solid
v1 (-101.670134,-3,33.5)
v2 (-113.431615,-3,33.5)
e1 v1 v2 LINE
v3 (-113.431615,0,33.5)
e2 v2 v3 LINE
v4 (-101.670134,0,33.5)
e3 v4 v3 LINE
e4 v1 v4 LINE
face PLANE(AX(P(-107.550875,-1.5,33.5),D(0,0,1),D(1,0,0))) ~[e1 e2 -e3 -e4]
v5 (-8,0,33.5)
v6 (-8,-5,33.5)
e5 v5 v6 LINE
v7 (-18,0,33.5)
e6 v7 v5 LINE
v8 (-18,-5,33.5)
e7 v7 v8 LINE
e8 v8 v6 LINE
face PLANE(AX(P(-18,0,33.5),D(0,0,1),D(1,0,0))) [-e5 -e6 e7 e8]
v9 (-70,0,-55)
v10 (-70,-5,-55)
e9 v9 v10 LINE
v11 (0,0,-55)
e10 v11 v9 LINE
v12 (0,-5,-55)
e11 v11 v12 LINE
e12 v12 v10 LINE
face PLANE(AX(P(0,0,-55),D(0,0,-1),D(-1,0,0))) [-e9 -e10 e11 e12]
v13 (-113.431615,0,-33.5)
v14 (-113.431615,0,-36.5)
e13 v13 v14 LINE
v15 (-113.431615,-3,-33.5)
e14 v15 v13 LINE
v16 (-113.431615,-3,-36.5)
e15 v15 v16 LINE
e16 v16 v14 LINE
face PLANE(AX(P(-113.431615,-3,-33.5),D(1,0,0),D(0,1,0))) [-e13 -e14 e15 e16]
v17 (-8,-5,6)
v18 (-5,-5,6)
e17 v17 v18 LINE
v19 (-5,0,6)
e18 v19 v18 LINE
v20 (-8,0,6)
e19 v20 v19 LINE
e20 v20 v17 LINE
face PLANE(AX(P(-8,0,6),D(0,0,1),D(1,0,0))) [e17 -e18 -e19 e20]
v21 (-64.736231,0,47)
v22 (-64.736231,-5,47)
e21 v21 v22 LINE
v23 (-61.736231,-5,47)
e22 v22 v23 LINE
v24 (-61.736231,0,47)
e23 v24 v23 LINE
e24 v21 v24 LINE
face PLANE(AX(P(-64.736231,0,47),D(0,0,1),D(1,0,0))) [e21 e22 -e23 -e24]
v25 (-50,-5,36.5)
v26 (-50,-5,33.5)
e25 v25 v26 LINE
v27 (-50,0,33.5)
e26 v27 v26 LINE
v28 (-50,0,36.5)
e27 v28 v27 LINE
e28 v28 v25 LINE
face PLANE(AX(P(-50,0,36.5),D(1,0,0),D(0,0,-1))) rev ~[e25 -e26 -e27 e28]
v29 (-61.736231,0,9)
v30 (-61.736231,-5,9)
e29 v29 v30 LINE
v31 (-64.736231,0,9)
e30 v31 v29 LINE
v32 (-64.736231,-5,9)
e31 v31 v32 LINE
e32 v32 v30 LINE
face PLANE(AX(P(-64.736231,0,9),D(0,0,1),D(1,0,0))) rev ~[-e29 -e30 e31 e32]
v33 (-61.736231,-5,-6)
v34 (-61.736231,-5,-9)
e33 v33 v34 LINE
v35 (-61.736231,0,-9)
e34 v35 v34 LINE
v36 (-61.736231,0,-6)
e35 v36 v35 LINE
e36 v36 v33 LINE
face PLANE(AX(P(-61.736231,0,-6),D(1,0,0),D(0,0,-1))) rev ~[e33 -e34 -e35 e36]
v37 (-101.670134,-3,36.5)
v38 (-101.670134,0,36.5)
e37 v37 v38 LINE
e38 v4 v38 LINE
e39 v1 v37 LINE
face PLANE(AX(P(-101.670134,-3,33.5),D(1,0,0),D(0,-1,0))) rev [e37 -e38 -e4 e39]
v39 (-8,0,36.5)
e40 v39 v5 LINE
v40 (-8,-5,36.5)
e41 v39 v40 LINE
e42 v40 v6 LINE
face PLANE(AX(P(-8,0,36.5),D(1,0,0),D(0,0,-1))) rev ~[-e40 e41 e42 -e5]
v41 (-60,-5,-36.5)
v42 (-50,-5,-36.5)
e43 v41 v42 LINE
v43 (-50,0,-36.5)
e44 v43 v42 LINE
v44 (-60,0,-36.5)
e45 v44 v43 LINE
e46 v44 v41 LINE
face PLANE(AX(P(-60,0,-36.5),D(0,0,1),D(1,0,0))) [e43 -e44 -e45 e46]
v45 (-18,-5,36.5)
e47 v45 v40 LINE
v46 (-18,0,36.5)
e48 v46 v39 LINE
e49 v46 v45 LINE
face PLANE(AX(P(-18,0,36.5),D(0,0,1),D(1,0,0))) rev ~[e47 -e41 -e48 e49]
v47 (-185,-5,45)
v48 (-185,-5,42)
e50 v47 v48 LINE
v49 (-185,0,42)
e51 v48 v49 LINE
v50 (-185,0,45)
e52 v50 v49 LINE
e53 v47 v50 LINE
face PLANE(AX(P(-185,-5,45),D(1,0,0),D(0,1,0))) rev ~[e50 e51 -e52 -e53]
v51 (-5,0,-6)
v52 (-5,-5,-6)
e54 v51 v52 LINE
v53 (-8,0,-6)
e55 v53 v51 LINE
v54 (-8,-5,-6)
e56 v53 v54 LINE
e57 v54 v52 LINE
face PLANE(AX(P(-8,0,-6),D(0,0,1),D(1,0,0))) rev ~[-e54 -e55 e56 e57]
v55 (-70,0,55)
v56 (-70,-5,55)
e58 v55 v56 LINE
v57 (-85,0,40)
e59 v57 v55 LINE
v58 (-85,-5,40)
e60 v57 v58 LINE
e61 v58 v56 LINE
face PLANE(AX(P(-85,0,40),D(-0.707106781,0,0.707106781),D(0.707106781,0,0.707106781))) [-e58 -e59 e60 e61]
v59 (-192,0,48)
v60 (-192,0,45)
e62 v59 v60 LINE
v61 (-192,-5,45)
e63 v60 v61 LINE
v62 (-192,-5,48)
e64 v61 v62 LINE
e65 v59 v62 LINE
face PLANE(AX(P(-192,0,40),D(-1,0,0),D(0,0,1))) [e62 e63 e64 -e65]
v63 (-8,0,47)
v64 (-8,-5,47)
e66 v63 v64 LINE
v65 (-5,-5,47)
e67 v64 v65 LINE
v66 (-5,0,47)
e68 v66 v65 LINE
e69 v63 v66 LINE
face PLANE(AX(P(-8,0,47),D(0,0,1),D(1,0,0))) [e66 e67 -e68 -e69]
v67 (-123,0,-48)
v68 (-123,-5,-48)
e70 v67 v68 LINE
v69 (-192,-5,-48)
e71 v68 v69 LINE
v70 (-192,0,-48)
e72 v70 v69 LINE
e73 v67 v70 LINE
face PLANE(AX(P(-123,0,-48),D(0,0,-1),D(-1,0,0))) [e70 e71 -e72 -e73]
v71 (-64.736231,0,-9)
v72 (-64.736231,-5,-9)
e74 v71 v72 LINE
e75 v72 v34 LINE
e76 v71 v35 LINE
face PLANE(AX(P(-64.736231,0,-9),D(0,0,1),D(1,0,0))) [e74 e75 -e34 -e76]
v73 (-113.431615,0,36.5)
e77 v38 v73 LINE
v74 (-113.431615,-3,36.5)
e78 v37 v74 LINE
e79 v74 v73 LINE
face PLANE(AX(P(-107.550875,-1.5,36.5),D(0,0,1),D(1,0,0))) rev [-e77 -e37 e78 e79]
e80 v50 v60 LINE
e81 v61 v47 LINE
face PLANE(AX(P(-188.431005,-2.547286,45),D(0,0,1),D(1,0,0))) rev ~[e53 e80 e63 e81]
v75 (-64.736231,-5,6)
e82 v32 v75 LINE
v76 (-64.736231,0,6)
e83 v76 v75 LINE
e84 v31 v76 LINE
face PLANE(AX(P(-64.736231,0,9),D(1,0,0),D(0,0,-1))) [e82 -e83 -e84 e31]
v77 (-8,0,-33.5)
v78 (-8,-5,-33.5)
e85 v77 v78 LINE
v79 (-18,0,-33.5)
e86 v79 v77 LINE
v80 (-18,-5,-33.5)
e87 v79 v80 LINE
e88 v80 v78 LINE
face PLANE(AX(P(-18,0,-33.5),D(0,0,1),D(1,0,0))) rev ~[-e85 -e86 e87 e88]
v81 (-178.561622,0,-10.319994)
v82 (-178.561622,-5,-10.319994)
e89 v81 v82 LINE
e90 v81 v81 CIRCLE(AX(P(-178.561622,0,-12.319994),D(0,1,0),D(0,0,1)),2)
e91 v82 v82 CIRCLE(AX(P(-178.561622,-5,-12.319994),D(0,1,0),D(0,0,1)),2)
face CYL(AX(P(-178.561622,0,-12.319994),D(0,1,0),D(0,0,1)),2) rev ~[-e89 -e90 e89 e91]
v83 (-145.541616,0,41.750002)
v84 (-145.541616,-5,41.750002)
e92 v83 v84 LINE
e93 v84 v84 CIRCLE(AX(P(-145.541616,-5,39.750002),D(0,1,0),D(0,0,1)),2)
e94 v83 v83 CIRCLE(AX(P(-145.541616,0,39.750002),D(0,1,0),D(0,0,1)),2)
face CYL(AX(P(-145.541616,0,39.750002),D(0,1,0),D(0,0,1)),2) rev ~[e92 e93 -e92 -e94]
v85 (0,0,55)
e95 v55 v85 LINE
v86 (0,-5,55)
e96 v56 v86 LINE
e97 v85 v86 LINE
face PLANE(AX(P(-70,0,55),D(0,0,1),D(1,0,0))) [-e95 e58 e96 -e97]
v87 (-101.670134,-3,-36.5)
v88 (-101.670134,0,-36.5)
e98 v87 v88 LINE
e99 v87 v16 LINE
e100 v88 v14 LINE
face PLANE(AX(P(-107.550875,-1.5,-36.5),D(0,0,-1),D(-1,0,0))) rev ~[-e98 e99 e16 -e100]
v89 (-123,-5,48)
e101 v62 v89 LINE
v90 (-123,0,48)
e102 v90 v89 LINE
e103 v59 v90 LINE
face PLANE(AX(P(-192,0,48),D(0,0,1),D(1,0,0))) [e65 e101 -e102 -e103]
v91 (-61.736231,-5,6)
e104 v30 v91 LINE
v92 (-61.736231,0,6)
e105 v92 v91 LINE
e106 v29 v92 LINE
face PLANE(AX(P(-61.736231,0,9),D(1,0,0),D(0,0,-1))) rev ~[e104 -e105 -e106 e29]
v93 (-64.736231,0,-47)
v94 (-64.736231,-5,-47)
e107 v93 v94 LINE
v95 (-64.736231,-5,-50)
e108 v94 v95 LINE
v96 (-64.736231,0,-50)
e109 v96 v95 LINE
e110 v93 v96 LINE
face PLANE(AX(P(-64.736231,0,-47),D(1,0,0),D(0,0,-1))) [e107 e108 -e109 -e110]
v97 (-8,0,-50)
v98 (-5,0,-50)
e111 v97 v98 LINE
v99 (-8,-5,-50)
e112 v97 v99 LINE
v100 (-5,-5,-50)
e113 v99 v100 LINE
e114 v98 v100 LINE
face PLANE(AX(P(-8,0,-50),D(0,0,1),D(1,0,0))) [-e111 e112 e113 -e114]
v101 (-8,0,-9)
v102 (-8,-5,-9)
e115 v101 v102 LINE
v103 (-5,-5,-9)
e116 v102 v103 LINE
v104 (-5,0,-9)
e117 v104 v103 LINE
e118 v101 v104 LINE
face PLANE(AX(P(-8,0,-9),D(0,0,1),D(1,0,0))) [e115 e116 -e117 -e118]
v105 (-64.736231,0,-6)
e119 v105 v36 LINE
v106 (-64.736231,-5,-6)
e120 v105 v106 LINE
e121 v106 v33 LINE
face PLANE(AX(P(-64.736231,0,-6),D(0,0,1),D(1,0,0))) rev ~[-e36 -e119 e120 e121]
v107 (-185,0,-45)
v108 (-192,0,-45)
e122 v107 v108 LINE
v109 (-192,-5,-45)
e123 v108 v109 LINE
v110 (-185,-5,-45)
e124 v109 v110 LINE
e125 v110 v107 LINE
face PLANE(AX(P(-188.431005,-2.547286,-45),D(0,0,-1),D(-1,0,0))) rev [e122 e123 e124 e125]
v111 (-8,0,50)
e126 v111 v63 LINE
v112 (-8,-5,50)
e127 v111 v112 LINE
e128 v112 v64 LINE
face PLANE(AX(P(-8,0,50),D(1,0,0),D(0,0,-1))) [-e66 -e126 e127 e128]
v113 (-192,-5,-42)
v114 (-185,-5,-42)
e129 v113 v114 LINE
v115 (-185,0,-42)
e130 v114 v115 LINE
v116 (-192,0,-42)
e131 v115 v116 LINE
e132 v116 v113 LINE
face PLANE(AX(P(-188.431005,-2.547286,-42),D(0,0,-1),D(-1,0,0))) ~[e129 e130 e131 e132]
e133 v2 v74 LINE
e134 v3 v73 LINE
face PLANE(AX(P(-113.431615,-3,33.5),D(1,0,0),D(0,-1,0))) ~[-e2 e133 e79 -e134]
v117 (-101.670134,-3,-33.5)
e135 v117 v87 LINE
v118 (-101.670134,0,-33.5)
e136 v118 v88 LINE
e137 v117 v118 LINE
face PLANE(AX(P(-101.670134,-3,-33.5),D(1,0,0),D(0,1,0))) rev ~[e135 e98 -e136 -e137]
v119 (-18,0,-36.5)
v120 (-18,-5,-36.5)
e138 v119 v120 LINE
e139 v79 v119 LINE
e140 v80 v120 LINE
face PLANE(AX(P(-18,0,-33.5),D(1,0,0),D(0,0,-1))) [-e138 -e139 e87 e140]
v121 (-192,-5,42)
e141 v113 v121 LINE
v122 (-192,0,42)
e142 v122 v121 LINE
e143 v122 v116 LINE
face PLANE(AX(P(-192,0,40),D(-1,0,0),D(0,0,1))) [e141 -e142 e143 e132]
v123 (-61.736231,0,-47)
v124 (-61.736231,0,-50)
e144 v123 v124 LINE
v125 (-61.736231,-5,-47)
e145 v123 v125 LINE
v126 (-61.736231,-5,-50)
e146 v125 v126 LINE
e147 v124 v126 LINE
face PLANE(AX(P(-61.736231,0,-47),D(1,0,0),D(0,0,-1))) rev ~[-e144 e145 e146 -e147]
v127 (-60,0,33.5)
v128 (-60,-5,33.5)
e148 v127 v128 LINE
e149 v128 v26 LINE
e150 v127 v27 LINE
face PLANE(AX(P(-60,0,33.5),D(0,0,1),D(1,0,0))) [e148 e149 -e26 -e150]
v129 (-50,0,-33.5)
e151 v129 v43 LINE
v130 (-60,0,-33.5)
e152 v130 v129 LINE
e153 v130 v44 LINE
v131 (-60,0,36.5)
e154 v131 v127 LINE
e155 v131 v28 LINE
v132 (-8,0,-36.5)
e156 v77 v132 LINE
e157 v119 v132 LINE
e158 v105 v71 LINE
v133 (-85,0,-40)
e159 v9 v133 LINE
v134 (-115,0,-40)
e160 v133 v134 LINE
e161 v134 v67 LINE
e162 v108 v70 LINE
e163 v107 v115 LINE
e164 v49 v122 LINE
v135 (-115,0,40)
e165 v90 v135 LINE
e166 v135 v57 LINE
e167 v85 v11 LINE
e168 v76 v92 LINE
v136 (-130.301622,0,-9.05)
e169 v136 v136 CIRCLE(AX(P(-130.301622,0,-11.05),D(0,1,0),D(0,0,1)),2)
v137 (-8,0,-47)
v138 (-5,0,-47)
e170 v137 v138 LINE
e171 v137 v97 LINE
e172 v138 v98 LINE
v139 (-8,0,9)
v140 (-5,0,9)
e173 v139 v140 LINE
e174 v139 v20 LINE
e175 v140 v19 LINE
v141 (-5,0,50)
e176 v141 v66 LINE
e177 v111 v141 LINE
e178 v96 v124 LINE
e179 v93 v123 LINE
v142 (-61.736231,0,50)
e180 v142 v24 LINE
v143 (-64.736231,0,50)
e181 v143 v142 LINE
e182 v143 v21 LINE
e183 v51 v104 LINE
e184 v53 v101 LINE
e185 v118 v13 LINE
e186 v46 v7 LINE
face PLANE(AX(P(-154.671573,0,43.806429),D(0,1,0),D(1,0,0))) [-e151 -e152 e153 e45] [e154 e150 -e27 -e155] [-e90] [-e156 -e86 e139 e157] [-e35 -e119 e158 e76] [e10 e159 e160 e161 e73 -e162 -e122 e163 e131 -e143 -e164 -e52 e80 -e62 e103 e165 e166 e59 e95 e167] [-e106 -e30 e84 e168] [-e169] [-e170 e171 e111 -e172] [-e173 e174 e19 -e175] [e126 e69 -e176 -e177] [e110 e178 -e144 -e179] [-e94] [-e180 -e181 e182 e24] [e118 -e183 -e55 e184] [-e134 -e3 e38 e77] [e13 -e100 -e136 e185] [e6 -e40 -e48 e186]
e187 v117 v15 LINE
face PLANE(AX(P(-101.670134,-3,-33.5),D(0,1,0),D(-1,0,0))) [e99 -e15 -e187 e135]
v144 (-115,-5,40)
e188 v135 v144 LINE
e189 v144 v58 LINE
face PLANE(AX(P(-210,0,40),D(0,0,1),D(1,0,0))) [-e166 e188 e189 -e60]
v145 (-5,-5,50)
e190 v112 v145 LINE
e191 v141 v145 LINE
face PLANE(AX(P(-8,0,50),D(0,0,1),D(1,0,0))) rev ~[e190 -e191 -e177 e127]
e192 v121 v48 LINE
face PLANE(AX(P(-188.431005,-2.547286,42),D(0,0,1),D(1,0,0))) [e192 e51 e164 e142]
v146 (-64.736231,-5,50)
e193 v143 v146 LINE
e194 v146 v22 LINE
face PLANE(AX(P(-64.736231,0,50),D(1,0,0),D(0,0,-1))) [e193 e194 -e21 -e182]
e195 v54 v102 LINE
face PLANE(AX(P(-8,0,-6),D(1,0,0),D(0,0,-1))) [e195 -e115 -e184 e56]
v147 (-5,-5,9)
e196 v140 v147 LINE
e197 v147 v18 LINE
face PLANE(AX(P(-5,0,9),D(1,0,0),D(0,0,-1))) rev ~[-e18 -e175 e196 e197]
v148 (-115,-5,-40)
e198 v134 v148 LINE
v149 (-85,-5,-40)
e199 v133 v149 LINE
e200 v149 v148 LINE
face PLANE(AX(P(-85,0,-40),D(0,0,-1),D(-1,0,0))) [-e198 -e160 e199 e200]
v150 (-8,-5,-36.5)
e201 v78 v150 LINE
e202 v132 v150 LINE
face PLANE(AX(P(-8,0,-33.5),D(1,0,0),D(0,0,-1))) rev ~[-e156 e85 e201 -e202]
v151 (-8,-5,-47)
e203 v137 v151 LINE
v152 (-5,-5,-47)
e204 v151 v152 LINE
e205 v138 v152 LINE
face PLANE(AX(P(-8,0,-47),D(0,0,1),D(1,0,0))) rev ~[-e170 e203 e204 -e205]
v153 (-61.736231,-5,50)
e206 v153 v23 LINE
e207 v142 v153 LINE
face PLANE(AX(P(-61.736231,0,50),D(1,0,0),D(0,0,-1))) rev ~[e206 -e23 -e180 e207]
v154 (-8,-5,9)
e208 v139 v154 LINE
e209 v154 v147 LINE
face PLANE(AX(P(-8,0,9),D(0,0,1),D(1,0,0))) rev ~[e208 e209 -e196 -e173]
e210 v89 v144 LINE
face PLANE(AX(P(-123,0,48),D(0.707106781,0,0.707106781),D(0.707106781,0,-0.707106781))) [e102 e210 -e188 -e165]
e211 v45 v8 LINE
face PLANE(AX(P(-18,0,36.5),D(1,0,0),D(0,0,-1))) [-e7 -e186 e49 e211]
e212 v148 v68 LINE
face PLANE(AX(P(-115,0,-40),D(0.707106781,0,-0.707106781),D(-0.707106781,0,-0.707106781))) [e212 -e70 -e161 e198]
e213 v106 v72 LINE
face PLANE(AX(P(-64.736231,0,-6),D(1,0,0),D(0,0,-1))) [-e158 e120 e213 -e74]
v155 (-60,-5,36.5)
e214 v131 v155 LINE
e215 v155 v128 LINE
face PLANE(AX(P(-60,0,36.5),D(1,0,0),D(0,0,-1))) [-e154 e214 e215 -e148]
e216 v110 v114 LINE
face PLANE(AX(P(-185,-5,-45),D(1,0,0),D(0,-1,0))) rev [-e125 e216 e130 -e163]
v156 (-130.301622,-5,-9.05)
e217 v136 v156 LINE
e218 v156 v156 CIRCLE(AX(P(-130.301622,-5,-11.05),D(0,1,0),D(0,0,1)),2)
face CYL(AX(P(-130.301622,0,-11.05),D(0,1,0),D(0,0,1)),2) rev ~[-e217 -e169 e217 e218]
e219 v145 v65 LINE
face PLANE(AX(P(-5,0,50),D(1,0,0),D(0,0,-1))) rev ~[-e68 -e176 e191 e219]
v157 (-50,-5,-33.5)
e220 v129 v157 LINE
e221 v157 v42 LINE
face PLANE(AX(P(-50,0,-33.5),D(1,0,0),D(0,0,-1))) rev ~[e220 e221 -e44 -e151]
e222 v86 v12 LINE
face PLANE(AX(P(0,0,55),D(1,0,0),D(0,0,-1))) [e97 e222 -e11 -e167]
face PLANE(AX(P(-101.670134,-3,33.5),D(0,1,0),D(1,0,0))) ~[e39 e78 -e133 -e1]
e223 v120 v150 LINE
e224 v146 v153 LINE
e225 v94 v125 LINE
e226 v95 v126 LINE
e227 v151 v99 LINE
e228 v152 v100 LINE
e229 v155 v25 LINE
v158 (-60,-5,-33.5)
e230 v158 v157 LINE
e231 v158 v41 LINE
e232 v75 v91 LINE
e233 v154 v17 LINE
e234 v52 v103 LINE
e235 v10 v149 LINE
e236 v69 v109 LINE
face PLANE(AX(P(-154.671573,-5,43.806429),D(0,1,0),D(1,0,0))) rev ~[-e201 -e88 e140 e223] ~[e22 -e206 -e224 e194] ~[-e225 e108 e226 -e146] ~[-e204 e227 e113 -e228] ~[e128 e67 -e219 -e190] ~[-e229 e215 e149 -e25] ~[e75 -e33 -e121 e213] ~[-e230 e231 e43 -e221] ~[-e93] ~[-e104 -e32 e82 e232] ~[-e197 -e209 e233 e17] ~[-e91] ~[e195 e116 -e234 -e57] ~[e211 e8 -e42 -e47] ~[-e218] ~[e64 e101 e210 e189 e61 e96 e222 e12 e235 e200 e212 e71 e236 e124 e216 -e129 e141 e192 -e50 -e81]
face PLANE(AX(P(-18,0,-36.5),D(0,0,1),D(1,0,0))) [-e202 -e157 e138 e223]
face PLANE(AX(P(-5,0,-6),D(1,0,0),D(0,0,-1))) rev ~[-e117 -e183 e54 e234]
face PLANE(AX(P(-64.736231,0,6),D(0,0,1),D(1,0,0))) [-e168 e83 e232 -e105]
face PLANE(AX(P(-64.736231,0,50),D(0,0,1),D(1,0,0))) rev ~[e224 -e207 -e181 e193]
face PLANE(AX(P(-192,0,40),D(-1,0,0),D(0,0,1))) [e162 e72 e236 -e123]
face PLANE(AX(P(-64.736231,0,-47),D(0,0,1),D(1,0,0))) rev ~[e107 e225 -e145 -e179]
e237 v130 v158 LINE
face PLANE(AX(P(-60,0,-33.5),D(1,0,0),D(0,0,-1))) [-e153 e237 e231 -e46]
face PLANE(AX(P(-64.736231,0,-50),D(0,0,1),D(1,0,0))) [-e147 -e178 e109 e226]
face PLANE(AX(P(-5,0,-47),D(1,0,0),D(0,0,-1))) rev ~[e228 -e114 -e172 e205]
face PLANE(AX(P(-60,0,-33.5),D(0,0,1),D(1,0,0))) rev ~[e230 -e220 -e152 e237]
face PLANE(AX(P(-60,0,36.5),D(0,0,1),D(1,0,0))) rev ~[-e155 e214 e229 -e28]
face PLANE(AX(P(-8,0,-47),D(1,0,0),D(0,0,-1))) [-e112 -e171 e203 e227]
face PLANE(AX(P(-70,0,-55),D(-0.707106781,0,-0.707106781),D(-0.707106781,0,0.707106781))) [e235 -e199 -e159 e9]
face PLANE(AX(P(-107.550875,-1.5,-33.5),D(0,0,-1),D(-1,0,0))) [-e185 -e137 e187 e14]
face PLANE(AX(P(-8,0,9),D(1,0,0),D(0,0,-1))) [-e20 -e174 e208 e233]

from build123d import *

# Parameters (mm, degrees)
BOSS_EXTRUDE1_DEPTH  = 5
SKETCH10_W           = 3
SKETCH10_H           = 3
CUT_EXTRUDE3_DEPTH   = 10
SKETCH11_W           = 10
SKETCH11_H           = 3
CUT_EXTRUDE4_DEPTH   = 10
BOSS_EXTRUDE5_DEPTH  = 3
SKETCH13_R           = 2
BOSS_EXTRUDE6_DEPTH  = 3
SKETCH14_R           = 2
SKETCH14_W           = 7
SKETCH14_H           = 3
BOSS_EXTRUDE7_DEPTH  = 3
SKETCH15_W           = 11.761480784
SKETCH15_H           = 3
BOSS_EXTRUDE8_DEPTH  = 3
SKETCH15_3_W         = 11.761480784
SKETCH15_3_H         = 3
CUT_EXTRUDE6_DEPTH   = 3
CUT_EXTRUDE7_DEPTH   = 63
BOSS_EXTRUDE9_DEPTH  = 3
BOSS_EXTRUDE10_DEPTH = 5
SKETCH19_R           = 2
CUT_EXTRUDE8_DEPTH   = 10
SKETCH24_R           = 1.75
CUT_EXTRUDE12_DEPTH  = 3
BOSS_EXTRUDE12_DEPTH = 3
CUT_EXTRUDE13_DEPTH  = 3
SKETCH27_R           = 2
CUT_EXTRUDE14_DEPTH  = 3
SKETCH29_W           = 25
SKETCH29_H           = 120
BOSS_EXTRUDE13_DEPTH = 1.4
SKETCH30_R           = 2
CUT_EXTRUDE15_DEPTH  = 30.4


with BuildPart() as part:
    # Sketch1 → Boss-Extrude1 (new body)
    with BuildSketch(Plane(origin=(0, 0, 0), x_dir=(1, 0, 0), z_dir=(0, 1, 0))):
        Polygon((-70, -55), (0, -55), (0, 55), (-70, 55), (-85, 40), (-210, 40), (-250, 0), (-210, -40), (-85, -40), align=None)
    extrude(amount=-BOSS_EXTRUDE1_DEPTH)

    # Sketch10 → Cut-Extrude3 (cut)
    with BuildSketch(Plane(origin=(0, 0, 0), x_dir=(1, 0, 0), z_dir=(0, 1, 0))):
        with Locations((-63.236231, -7.5)):
            Rectangle(SKETCH10_W, SKETCH10_H)
        with Locations((-63.236231, -48.5)):
            Rectangle(SKETCH10_W, SKETCH10_H)
        with Locations((-6.5, -48.5)):
            Rectangle(SKETCH10_W, SKETCH10_H)
        with Locations((-6.5, -7.5)):
            Rectangle(SKETCH10_W, SKETCH10_H)
        with Locations((-6.5, 7.5)):
            Rectangle(SKETCH10_W, SKETCH10_H)
        with Locations((-6.5, 48.5)):
            Rectangle(SKETCH10_W, SKETCH10_H)
        with Locations((-63.236231, 48.5)):
            Rectangle(SKETCH10_W, SKETCH10_H)
        with Locations((-63.236231, 7.5)):
            Rectangle(SKETCH10_W, SKETCH10_H)
    extrude(amount=-CUT_EXTRUDE3_DEPTH, mode=Mode.SUBTRACT)

    # Sketch11 → Cut-Extrude4 (cut)
    with BuildSketch(Plane(origin=(0, 0, 0), x_dir=(1, 0, 0), z_dir=(0, 1, 0))):
        with Locations((-13, -35)):
            Rectangle(SKETCH11_W, SKETCH11_H)
        with Locations((-13, 35)):
            Rectangle(SKETCH11_W, SKETCH11_H)
        with Locations((-55, 35)):
            Rectangle(SKETCH11_W, SKETCH11_H)
        with Locations((-55, -35)):
            Rectangle(SKETCH11_W, SKETCH11_H)
    extrude(amount=-CUT_EXTRUDE4_DEPTH, mode=Mode.SUBTRACT)

    # Sketch15<3> → Cut-Extrude6 (cut)
    # profile 1 of 2: a face of its own
    with BuildSketch(Plane(origin=(0, 0, -33.5), x_dir=(-1, 0, 0), z_dir=(0, 0, -1))):
        Polygon((97.670134296, 0), (117.43161508, 0), (117.43161508, 17.663270368), (97.670134296, 22.958343186), align=None)
        Polygon((112.655157945, 10.660908757), (113.43161508, 13.558686236), (106.670134296, 15.370419552), (100.874579339, 16.923333822), (100.098122203, 14.025556343), (105.893677161, 12.472642073), align=None, mode=Mode.SUBTRACT)
    # profile 2 of 2: a face of its own
    with BuildSketch(Plane(origin=(0, 0, -33.5), x_dir=(-1, 0, 0), z_dir=(0, 0, -1))):
        with Locations((107.550874688, -1.5)):
            Rectangle(SKETCH15_3_W, SKETCH15_3_H)
    cut_extrude6 = extrude(amount=CUT_EXTRUDE6_DEPTH, mode=Mode.SUBTRACT)

    # Mirror5: Cut-Extrude6 across plane
    add(cut_extrude6.mirror(Plane.XY), mode=Mode.SUBTRACT)

    # Sketch17 → Cut-Extrude7 (cut)
    with BuildSketch(Plane(origin=(0, 0, 0), x_dir=(1, 0, 0), z_dir=(0, 1, 0))):
        Polygon((-192, -40), (-192, 40), (-210, 40), (-250, 0), (-210, -40), align=None)
    extrude(amount=-CUT_EXTRUDE7_DEPTH, mode=Mode.SUBTRACT)

    # Sketch20 → Boss-Extrude10 (add)
    with BuildSketch(Plane(origin=(0, 0, 0), x_dir=(1, 0, 0), z_dir=(0, 1, 0))):
        Polygon((-115, -40), (-192, -40), (-192, -48), (-123, -48), align=None)
        Polygon((-192, 48), (-192, 40), (-115, 40), (-123, 48), align=None)
    extrude(amount=-BOSS_EXTRUDE10_DEPTH)

    # Sketch19 → Cut-Extrude8 (cut)
    with BuildSketch(Plane(origin=(0, 0, 0), x_dir=(1, 0, 0), z_dir=(0, 1, 0))):
        with Locations(Location((-130.301621673, 11.049999775, 0), (0, 0, 270))):
            Circle(SKETCH19_R)
        with Locations(Location((-178.561621814, 12.319994418, 0), (0, 0, 270))):
            Circle(SKETCH19_R)
        with Locations(Location((-145.541616034, -39.750001917, 0), (0, 0, 270))):
            Circle(SKETCH19_R)
    extrude(amount=-CUT_EXTRUDE8_DEPTH, mode=Mode.SUBTRACT)


with BuildPart() as body_2:
    # Sketch12 → Boss-Extrude5 (new body)
    with BuildSketch(Plane.XY.offset(-36.5)):
        Polygon((-67, 0), (-2, 0), (3.967923412, 30), (15.016198358, 63.505316822), (-12, 56.26634829), (-67, 29.176380902), align=None)
        Polygon((-4.577717242, 39.620171714), (-5.354174377, 42.517949192), (1.407306407, 44.329682508), (2.183763542, 41.431905029), align=None, mode=Mode.SUBTRACT)
    extrude(amount=BOSS_EXTRUDE5_DEPTH)


with BuildPart() as body_3:
    # Mirror3: mirrored copy
    add(body_2.part.mirror(Plane.XY))


with BuildPart() as body_4:
    # Sketch13 → Boss-Extrude6 (new body)
    with BuildSketch(Plane(origin=(-10.211691838, 38.11055277, 0), x_dir=(0.9659258262890699, 0.25881904510251513, 0), z_dir=(-0.25881904510251513, 0.9659258262890699, 0))):
        Polygon((12.8327197, 33.5), (12.8327197, 36.5), (5.8327197, 36.5), (5.8327197, 33.5), (4.8327197, 33.5), (4.8327197, -33.5), (5.8327197, -33.5), (5.8327197, -36.5), (12.8327197, -36.5), (12.8327197, -33.5), (18.8327197, -33.5), (18.8327197, 33.5), align=None)
        with Locations((13.8327197, -25.24)):
            Circle(SKETCH13_R, mode=Mode.SUBTRACT)
        with Locations((13.8327197, 25.24)):
            Circle(SKETCH13_R, mode=Mode.SUBTRACT)
    extrude(amount=BOSS_EXTRUDE6_DEPTH)


with BuildPart() as body_5:
    # Sketch14 → Boss-Extrude7 (new body)
    # profile 1 of 4: a face of its own
    with BuildSketch(Plane(origin=(-10.988148973, 41.008330249, 0), x_dir=(0.9659258262890699, 0.2588190451025152, 0), z_dir=(-0.2588190451025152, 0.9659258262890699, 0))):
        Polygon((-106.0572803, 33.5), (-107.0572803, 33.5), (-107.0572803, 0), (-93.0572803, 0), (-93.0572803, 33.5), (-99.0572803, 33.5), align=None)
        with Locations(Location((-102.0572803, 25.24, 0), (0, 0, 180))):
            Circle(SKETCH14_R, mode=Mode.SUBTRACT)
    # profile 2 of 4: a face of its own
    with BuildSketch(Plane(origin=(-10.988148973, 41.008330249, 0), x_dir=(0.9659258262890699, 0.2588190451025152, 0), z_dir=(-0.2588190451025152, 0.9659258262890699, 0))):
        with Locations((-102.5572803, 35)):
            Rectangle(SKETCH14_W, SKETCH14_H)
    # profile 3 of 4: a face of its own
    with BuildSketch(Plane(origin=(-10.988148973, 41.008330249, 0), x_dir=(0.9659258262890699, 0.2588190451025152, 0), z_dir=(-0.2588190451025152, 0.9659258262890699, 0))):
        Polygon((-93.0572803, 0), (-107.0572803, 0), (-107.0572803, -33.5), (-106.0572803, -33.5), (-99.0572803, -33.5), (-93.0572803, -33.5), align=None)
        with Locations(Location((-102.0572803, -25.24, 0), (0, 0, 180))):
            Circle(SKETCH14_R, mode=Mode.SUBTRACT)
    # profile 4 of 4: a face of its own
    with BuildSketch(Plane(origin=(-10.988148973, 41.008330249, 0), x_dir=(0.9659258262890699, 0.2588190451025152, 0), z_dir=(-0.2588190451025152, 0.9659258262890699, 0))):
        with Locations((-102.5572803, -35)):
            Rectangle(SKETCH14_W, SKETCH14_H)
    extrude(amount=-BOSS_EXTRUDE7_DEPTH)


with BuildPart() as body_6:
    # Sketch15 → Boss-Extrude8 (new body)
    # profile 1 of 3: a face of its own
    with BuildSketch(Plane(origin=(0, 0, -33.5), x_dir=(-1, 0, 0), z_dir=(0, 0, -1))):
        Polygon((97.670134296, 0), (117.43161508, 0), (117.43161508, 17.663270368), (97.670134296, 22.958343186), align=None)
        Polygon((112.655157945, 10.660908757), (113.43161508, 13.558686236), (106.670134296, 15.370419552), (100.874579339, 16.923333822), (100.098122203, 14.025556343), (105.893677161, 12.472642073), align=None, mode=Mode.SUBTRACT)
    # profile 2 of 3: a face of its own
    with BuildSketch(Plane(origin=(0, 0, -33.5), x_dir=(-1, 0, 0), z_dir=(0, 0, -1))):
        with Locations((107.550874688, -1.5)):
            Rectangle(SKETCH15_W, SKETCH15_H)
    # profile 3 of 3: a face of its own
    with BuildSketch(Plane(origin=(0, 0, -33.5), x_dir=(-1, 0, 0), z_dir=(0, 0, -1))):
        Polygon((105.893677161, 12.472642073), (106.670134296, 15.370419552), (100.874579339, 16.923333822), (100.098122203, 14.025556343), align=None)
    extrude(amount=BOSS_EXTRUDE8_DEPTH)


with BuildPart() as body_7:
    # Mirror4: mirrored copy
    add(body_6.part.mirror(Plane.XY))


with BuildPart() as body_8:
    # Sketch18 → Boss-Extrude9 (new body)
    with BuildSketch(Plane(origin=(-12.861561237, -48, 0), x_dir=(0, 0, 1), z_dir=(-0.25881904510252135, -0.9659258262890681, 0))):
        Polygon((48, 185.957758648), (-48, 185.957758648), (-48, 215.180976351), (0, 255.457758648), (48, 215.180976351), align=None)
    extrude(amount=BOSS_EXTRUDE9_DEPTH)

    # Sketch24 → Cut-Extrude12 (cut)
    with BuildSketch(Plane(origin=(-12.861561237, -48, 0), x_dir=(0.9659258262890682, -0.25881904510252135, 0), z_dir=(0.2588190451025213, 0.9659258262890681, 0))):
        with Locations(Location((-200.957758648, -13.875, 0), (0, 0, 180))):
            Circle(SKETCH24_R)
        with Locations(Location((-200.957758648, 13.875, 0), (0, 0, 180))):
            Circle(SKETCH24_R)
    extrude(amount=-CUT_EXTRUDE12_DEPTH, mode=Mode.SUBTRACT)


with BuildPart() as body_9:
    # Sketch26 → Boss-Extrude12 (new body)
    with BuildSketch(Plane.XY.offset(45)):
        Polygon((-172, 3), (-183.927615219, 13.636723728), (-191.439047106, 0), (-185, 0), (-172, 0), align=None)
        Polygon((-210.806452543, 8.145002313), (-211.582909679, 5.247224834), (-199.244443697, 1.941142838), (-192.482962913, 0.129409523), (-193.259420048, -2.768367956), (-200.020900832, -0.956634641), (-212.359366814, 2.349447355), (-213.135823949, -0.548330124), (-196.881901916, -9.881299392), (-192, -1.018389004), (-192, 0), (-191.439047106, 0), (-183.927615219, 13.636723728), align=None)
        Polygon((-192, -1.018389004), (-196.881901916, -9.881299392), (-172, -8), (-172, -5), (-185, -5), (-192, -5), align=None)
        Polygon((-185, 0), (-191.439047106, 0), (-192, -1.018389004), (-192, -5), (-185, -5), align=None)
        Polygon((-192.482962913, 0.129409523), (-199.244443697, 1.941142838), (-200.020900832, -0.956634641), (-193.259420048, -2.768367956), align=None)
        Polygon((-192, -1.018389004), (-191.439047106, 0), (-192, 0), align=None)
    extrude(amount=-BOSS_EXTRUDE12_DEPTH)


with BuildPart() as cut_extrude13_tool:
    # Sketch26<3> → Cut-Extrude13 (new body)
    with BuildSketch(Plane.XY.offset(45)):
        Polygon((-192.482962913, 0.129409523), (-199.244443697, 1.941142838), (-200.020900832, -0.956634641), (-193.259420048, -2.768367956), align=None)
        Polygon((-185, 0), (-191.439047106, 0), (-192, -1.018389004), (-192, -5), (-185, -5), align=None)
        Polygon((-192, -1.018389004), (-191.439047106, 0), (-192, 0), align=None)
    cut_extrude13 = extrude(amount=-CUT_EXTRUDE13_DEPTH)


with BuildPart() as body_8_1:
    add(body_8.part)

    # Cut-Extrude13: cut by cut_extrude13_tool
    add(cut_extrude13_tool.part, mode=Mode.SUBTRACT)


with BuildPart() as part_1:
    add(part.part)

    # Cut-Extrude13: cut by cut_extrude13_tool
    add(cut_extrude13_tool.part, mode=Mode.SUBTRACT)


with BuildPart() as body_10:
    # Mirror7: mirrored copy
    add(body_9.part.mirror(Plane.XY))


with BuildPart() as mirror8_tool:
    # Mirror8: Cut-Extrude13 across plane
    add(cut_extrude13.mirror(Plane.XY))


with BuildPart() as body_8_2:
    add(body_8_1.part)

    # Mirror8: cut by mirror8_tool
    add(mirror8_tool.part, mode=Mode.SUBTRACT)

    # Sketch27 → Cut-Extrude14 (cut)
    with BuildSketch(Plane(origin=(-12.861561237, -48, 0), x_dir=(0.9659258262890681, -0.25881904510252146, 0), z_dir=(0.25881904510252146, 0.9659258262890681, 0))):
        with Locations(Location((-220.731478581, 30.495102239, 0), (0, 0, 180))):
            Circle(SKETCH27_R)
        with Locations(Location((-220.731478581, -30.495102239, 0), (0, 0, 180))):
            Circle(SKETCH27_R)
    extrude(amount=-CUT_EXTRUDE14_DEPTH, mode=Mode.SUBTRACT)


with BuildPart() as part_2:
    add(part_1.part)

    # Mirror8: cut by mirror8_tool
    add(mirror8_tool.part, mode=Mode.SUBTRACT)


with BuildPart() as body_11:
    # Sketch29 → Boss-Extrude13 (new body)
    with BuildSketch(Plane(origin=(-16.226208823, -60.557035742, 0), x_dir=(-0.9659258262890681, 0.25881904510252146, 0), z_dir=(-0.25881904510252146, -0.9659258262890681, 0))):
        with Locations((228.231478581, 0)):
            Rectangle(SKETCH29_W, SKETCH29_H)
    extrude(amount=BOSS_EXTRUDE13_DEPTH)

    # Sketch30 → Cut-Extrude15 (cut)
    with BuildSketch(Plane(origin=(-16.226208823, -60.557035742, 0), x_dir=(0.9659258262890681, -0.2588190451025215, 0), z_dir=(0.2588190451025215, 0.9659258262890681, 0))):
        with Locations(Location((-220.731478581, 30.495102239, 0), (0, 0, 180))):
            Circle(SKETCH30_R)
        with Locations(Location((-220.731478581, -30.495102239, 0), (0, 0, 180))):
            Circle(SKETCH30_R)
    extrude(amount=-CUT_EXTRUDE15_DEPTH, mode=Mode.SUBTRACT)


solid = part_2.part
